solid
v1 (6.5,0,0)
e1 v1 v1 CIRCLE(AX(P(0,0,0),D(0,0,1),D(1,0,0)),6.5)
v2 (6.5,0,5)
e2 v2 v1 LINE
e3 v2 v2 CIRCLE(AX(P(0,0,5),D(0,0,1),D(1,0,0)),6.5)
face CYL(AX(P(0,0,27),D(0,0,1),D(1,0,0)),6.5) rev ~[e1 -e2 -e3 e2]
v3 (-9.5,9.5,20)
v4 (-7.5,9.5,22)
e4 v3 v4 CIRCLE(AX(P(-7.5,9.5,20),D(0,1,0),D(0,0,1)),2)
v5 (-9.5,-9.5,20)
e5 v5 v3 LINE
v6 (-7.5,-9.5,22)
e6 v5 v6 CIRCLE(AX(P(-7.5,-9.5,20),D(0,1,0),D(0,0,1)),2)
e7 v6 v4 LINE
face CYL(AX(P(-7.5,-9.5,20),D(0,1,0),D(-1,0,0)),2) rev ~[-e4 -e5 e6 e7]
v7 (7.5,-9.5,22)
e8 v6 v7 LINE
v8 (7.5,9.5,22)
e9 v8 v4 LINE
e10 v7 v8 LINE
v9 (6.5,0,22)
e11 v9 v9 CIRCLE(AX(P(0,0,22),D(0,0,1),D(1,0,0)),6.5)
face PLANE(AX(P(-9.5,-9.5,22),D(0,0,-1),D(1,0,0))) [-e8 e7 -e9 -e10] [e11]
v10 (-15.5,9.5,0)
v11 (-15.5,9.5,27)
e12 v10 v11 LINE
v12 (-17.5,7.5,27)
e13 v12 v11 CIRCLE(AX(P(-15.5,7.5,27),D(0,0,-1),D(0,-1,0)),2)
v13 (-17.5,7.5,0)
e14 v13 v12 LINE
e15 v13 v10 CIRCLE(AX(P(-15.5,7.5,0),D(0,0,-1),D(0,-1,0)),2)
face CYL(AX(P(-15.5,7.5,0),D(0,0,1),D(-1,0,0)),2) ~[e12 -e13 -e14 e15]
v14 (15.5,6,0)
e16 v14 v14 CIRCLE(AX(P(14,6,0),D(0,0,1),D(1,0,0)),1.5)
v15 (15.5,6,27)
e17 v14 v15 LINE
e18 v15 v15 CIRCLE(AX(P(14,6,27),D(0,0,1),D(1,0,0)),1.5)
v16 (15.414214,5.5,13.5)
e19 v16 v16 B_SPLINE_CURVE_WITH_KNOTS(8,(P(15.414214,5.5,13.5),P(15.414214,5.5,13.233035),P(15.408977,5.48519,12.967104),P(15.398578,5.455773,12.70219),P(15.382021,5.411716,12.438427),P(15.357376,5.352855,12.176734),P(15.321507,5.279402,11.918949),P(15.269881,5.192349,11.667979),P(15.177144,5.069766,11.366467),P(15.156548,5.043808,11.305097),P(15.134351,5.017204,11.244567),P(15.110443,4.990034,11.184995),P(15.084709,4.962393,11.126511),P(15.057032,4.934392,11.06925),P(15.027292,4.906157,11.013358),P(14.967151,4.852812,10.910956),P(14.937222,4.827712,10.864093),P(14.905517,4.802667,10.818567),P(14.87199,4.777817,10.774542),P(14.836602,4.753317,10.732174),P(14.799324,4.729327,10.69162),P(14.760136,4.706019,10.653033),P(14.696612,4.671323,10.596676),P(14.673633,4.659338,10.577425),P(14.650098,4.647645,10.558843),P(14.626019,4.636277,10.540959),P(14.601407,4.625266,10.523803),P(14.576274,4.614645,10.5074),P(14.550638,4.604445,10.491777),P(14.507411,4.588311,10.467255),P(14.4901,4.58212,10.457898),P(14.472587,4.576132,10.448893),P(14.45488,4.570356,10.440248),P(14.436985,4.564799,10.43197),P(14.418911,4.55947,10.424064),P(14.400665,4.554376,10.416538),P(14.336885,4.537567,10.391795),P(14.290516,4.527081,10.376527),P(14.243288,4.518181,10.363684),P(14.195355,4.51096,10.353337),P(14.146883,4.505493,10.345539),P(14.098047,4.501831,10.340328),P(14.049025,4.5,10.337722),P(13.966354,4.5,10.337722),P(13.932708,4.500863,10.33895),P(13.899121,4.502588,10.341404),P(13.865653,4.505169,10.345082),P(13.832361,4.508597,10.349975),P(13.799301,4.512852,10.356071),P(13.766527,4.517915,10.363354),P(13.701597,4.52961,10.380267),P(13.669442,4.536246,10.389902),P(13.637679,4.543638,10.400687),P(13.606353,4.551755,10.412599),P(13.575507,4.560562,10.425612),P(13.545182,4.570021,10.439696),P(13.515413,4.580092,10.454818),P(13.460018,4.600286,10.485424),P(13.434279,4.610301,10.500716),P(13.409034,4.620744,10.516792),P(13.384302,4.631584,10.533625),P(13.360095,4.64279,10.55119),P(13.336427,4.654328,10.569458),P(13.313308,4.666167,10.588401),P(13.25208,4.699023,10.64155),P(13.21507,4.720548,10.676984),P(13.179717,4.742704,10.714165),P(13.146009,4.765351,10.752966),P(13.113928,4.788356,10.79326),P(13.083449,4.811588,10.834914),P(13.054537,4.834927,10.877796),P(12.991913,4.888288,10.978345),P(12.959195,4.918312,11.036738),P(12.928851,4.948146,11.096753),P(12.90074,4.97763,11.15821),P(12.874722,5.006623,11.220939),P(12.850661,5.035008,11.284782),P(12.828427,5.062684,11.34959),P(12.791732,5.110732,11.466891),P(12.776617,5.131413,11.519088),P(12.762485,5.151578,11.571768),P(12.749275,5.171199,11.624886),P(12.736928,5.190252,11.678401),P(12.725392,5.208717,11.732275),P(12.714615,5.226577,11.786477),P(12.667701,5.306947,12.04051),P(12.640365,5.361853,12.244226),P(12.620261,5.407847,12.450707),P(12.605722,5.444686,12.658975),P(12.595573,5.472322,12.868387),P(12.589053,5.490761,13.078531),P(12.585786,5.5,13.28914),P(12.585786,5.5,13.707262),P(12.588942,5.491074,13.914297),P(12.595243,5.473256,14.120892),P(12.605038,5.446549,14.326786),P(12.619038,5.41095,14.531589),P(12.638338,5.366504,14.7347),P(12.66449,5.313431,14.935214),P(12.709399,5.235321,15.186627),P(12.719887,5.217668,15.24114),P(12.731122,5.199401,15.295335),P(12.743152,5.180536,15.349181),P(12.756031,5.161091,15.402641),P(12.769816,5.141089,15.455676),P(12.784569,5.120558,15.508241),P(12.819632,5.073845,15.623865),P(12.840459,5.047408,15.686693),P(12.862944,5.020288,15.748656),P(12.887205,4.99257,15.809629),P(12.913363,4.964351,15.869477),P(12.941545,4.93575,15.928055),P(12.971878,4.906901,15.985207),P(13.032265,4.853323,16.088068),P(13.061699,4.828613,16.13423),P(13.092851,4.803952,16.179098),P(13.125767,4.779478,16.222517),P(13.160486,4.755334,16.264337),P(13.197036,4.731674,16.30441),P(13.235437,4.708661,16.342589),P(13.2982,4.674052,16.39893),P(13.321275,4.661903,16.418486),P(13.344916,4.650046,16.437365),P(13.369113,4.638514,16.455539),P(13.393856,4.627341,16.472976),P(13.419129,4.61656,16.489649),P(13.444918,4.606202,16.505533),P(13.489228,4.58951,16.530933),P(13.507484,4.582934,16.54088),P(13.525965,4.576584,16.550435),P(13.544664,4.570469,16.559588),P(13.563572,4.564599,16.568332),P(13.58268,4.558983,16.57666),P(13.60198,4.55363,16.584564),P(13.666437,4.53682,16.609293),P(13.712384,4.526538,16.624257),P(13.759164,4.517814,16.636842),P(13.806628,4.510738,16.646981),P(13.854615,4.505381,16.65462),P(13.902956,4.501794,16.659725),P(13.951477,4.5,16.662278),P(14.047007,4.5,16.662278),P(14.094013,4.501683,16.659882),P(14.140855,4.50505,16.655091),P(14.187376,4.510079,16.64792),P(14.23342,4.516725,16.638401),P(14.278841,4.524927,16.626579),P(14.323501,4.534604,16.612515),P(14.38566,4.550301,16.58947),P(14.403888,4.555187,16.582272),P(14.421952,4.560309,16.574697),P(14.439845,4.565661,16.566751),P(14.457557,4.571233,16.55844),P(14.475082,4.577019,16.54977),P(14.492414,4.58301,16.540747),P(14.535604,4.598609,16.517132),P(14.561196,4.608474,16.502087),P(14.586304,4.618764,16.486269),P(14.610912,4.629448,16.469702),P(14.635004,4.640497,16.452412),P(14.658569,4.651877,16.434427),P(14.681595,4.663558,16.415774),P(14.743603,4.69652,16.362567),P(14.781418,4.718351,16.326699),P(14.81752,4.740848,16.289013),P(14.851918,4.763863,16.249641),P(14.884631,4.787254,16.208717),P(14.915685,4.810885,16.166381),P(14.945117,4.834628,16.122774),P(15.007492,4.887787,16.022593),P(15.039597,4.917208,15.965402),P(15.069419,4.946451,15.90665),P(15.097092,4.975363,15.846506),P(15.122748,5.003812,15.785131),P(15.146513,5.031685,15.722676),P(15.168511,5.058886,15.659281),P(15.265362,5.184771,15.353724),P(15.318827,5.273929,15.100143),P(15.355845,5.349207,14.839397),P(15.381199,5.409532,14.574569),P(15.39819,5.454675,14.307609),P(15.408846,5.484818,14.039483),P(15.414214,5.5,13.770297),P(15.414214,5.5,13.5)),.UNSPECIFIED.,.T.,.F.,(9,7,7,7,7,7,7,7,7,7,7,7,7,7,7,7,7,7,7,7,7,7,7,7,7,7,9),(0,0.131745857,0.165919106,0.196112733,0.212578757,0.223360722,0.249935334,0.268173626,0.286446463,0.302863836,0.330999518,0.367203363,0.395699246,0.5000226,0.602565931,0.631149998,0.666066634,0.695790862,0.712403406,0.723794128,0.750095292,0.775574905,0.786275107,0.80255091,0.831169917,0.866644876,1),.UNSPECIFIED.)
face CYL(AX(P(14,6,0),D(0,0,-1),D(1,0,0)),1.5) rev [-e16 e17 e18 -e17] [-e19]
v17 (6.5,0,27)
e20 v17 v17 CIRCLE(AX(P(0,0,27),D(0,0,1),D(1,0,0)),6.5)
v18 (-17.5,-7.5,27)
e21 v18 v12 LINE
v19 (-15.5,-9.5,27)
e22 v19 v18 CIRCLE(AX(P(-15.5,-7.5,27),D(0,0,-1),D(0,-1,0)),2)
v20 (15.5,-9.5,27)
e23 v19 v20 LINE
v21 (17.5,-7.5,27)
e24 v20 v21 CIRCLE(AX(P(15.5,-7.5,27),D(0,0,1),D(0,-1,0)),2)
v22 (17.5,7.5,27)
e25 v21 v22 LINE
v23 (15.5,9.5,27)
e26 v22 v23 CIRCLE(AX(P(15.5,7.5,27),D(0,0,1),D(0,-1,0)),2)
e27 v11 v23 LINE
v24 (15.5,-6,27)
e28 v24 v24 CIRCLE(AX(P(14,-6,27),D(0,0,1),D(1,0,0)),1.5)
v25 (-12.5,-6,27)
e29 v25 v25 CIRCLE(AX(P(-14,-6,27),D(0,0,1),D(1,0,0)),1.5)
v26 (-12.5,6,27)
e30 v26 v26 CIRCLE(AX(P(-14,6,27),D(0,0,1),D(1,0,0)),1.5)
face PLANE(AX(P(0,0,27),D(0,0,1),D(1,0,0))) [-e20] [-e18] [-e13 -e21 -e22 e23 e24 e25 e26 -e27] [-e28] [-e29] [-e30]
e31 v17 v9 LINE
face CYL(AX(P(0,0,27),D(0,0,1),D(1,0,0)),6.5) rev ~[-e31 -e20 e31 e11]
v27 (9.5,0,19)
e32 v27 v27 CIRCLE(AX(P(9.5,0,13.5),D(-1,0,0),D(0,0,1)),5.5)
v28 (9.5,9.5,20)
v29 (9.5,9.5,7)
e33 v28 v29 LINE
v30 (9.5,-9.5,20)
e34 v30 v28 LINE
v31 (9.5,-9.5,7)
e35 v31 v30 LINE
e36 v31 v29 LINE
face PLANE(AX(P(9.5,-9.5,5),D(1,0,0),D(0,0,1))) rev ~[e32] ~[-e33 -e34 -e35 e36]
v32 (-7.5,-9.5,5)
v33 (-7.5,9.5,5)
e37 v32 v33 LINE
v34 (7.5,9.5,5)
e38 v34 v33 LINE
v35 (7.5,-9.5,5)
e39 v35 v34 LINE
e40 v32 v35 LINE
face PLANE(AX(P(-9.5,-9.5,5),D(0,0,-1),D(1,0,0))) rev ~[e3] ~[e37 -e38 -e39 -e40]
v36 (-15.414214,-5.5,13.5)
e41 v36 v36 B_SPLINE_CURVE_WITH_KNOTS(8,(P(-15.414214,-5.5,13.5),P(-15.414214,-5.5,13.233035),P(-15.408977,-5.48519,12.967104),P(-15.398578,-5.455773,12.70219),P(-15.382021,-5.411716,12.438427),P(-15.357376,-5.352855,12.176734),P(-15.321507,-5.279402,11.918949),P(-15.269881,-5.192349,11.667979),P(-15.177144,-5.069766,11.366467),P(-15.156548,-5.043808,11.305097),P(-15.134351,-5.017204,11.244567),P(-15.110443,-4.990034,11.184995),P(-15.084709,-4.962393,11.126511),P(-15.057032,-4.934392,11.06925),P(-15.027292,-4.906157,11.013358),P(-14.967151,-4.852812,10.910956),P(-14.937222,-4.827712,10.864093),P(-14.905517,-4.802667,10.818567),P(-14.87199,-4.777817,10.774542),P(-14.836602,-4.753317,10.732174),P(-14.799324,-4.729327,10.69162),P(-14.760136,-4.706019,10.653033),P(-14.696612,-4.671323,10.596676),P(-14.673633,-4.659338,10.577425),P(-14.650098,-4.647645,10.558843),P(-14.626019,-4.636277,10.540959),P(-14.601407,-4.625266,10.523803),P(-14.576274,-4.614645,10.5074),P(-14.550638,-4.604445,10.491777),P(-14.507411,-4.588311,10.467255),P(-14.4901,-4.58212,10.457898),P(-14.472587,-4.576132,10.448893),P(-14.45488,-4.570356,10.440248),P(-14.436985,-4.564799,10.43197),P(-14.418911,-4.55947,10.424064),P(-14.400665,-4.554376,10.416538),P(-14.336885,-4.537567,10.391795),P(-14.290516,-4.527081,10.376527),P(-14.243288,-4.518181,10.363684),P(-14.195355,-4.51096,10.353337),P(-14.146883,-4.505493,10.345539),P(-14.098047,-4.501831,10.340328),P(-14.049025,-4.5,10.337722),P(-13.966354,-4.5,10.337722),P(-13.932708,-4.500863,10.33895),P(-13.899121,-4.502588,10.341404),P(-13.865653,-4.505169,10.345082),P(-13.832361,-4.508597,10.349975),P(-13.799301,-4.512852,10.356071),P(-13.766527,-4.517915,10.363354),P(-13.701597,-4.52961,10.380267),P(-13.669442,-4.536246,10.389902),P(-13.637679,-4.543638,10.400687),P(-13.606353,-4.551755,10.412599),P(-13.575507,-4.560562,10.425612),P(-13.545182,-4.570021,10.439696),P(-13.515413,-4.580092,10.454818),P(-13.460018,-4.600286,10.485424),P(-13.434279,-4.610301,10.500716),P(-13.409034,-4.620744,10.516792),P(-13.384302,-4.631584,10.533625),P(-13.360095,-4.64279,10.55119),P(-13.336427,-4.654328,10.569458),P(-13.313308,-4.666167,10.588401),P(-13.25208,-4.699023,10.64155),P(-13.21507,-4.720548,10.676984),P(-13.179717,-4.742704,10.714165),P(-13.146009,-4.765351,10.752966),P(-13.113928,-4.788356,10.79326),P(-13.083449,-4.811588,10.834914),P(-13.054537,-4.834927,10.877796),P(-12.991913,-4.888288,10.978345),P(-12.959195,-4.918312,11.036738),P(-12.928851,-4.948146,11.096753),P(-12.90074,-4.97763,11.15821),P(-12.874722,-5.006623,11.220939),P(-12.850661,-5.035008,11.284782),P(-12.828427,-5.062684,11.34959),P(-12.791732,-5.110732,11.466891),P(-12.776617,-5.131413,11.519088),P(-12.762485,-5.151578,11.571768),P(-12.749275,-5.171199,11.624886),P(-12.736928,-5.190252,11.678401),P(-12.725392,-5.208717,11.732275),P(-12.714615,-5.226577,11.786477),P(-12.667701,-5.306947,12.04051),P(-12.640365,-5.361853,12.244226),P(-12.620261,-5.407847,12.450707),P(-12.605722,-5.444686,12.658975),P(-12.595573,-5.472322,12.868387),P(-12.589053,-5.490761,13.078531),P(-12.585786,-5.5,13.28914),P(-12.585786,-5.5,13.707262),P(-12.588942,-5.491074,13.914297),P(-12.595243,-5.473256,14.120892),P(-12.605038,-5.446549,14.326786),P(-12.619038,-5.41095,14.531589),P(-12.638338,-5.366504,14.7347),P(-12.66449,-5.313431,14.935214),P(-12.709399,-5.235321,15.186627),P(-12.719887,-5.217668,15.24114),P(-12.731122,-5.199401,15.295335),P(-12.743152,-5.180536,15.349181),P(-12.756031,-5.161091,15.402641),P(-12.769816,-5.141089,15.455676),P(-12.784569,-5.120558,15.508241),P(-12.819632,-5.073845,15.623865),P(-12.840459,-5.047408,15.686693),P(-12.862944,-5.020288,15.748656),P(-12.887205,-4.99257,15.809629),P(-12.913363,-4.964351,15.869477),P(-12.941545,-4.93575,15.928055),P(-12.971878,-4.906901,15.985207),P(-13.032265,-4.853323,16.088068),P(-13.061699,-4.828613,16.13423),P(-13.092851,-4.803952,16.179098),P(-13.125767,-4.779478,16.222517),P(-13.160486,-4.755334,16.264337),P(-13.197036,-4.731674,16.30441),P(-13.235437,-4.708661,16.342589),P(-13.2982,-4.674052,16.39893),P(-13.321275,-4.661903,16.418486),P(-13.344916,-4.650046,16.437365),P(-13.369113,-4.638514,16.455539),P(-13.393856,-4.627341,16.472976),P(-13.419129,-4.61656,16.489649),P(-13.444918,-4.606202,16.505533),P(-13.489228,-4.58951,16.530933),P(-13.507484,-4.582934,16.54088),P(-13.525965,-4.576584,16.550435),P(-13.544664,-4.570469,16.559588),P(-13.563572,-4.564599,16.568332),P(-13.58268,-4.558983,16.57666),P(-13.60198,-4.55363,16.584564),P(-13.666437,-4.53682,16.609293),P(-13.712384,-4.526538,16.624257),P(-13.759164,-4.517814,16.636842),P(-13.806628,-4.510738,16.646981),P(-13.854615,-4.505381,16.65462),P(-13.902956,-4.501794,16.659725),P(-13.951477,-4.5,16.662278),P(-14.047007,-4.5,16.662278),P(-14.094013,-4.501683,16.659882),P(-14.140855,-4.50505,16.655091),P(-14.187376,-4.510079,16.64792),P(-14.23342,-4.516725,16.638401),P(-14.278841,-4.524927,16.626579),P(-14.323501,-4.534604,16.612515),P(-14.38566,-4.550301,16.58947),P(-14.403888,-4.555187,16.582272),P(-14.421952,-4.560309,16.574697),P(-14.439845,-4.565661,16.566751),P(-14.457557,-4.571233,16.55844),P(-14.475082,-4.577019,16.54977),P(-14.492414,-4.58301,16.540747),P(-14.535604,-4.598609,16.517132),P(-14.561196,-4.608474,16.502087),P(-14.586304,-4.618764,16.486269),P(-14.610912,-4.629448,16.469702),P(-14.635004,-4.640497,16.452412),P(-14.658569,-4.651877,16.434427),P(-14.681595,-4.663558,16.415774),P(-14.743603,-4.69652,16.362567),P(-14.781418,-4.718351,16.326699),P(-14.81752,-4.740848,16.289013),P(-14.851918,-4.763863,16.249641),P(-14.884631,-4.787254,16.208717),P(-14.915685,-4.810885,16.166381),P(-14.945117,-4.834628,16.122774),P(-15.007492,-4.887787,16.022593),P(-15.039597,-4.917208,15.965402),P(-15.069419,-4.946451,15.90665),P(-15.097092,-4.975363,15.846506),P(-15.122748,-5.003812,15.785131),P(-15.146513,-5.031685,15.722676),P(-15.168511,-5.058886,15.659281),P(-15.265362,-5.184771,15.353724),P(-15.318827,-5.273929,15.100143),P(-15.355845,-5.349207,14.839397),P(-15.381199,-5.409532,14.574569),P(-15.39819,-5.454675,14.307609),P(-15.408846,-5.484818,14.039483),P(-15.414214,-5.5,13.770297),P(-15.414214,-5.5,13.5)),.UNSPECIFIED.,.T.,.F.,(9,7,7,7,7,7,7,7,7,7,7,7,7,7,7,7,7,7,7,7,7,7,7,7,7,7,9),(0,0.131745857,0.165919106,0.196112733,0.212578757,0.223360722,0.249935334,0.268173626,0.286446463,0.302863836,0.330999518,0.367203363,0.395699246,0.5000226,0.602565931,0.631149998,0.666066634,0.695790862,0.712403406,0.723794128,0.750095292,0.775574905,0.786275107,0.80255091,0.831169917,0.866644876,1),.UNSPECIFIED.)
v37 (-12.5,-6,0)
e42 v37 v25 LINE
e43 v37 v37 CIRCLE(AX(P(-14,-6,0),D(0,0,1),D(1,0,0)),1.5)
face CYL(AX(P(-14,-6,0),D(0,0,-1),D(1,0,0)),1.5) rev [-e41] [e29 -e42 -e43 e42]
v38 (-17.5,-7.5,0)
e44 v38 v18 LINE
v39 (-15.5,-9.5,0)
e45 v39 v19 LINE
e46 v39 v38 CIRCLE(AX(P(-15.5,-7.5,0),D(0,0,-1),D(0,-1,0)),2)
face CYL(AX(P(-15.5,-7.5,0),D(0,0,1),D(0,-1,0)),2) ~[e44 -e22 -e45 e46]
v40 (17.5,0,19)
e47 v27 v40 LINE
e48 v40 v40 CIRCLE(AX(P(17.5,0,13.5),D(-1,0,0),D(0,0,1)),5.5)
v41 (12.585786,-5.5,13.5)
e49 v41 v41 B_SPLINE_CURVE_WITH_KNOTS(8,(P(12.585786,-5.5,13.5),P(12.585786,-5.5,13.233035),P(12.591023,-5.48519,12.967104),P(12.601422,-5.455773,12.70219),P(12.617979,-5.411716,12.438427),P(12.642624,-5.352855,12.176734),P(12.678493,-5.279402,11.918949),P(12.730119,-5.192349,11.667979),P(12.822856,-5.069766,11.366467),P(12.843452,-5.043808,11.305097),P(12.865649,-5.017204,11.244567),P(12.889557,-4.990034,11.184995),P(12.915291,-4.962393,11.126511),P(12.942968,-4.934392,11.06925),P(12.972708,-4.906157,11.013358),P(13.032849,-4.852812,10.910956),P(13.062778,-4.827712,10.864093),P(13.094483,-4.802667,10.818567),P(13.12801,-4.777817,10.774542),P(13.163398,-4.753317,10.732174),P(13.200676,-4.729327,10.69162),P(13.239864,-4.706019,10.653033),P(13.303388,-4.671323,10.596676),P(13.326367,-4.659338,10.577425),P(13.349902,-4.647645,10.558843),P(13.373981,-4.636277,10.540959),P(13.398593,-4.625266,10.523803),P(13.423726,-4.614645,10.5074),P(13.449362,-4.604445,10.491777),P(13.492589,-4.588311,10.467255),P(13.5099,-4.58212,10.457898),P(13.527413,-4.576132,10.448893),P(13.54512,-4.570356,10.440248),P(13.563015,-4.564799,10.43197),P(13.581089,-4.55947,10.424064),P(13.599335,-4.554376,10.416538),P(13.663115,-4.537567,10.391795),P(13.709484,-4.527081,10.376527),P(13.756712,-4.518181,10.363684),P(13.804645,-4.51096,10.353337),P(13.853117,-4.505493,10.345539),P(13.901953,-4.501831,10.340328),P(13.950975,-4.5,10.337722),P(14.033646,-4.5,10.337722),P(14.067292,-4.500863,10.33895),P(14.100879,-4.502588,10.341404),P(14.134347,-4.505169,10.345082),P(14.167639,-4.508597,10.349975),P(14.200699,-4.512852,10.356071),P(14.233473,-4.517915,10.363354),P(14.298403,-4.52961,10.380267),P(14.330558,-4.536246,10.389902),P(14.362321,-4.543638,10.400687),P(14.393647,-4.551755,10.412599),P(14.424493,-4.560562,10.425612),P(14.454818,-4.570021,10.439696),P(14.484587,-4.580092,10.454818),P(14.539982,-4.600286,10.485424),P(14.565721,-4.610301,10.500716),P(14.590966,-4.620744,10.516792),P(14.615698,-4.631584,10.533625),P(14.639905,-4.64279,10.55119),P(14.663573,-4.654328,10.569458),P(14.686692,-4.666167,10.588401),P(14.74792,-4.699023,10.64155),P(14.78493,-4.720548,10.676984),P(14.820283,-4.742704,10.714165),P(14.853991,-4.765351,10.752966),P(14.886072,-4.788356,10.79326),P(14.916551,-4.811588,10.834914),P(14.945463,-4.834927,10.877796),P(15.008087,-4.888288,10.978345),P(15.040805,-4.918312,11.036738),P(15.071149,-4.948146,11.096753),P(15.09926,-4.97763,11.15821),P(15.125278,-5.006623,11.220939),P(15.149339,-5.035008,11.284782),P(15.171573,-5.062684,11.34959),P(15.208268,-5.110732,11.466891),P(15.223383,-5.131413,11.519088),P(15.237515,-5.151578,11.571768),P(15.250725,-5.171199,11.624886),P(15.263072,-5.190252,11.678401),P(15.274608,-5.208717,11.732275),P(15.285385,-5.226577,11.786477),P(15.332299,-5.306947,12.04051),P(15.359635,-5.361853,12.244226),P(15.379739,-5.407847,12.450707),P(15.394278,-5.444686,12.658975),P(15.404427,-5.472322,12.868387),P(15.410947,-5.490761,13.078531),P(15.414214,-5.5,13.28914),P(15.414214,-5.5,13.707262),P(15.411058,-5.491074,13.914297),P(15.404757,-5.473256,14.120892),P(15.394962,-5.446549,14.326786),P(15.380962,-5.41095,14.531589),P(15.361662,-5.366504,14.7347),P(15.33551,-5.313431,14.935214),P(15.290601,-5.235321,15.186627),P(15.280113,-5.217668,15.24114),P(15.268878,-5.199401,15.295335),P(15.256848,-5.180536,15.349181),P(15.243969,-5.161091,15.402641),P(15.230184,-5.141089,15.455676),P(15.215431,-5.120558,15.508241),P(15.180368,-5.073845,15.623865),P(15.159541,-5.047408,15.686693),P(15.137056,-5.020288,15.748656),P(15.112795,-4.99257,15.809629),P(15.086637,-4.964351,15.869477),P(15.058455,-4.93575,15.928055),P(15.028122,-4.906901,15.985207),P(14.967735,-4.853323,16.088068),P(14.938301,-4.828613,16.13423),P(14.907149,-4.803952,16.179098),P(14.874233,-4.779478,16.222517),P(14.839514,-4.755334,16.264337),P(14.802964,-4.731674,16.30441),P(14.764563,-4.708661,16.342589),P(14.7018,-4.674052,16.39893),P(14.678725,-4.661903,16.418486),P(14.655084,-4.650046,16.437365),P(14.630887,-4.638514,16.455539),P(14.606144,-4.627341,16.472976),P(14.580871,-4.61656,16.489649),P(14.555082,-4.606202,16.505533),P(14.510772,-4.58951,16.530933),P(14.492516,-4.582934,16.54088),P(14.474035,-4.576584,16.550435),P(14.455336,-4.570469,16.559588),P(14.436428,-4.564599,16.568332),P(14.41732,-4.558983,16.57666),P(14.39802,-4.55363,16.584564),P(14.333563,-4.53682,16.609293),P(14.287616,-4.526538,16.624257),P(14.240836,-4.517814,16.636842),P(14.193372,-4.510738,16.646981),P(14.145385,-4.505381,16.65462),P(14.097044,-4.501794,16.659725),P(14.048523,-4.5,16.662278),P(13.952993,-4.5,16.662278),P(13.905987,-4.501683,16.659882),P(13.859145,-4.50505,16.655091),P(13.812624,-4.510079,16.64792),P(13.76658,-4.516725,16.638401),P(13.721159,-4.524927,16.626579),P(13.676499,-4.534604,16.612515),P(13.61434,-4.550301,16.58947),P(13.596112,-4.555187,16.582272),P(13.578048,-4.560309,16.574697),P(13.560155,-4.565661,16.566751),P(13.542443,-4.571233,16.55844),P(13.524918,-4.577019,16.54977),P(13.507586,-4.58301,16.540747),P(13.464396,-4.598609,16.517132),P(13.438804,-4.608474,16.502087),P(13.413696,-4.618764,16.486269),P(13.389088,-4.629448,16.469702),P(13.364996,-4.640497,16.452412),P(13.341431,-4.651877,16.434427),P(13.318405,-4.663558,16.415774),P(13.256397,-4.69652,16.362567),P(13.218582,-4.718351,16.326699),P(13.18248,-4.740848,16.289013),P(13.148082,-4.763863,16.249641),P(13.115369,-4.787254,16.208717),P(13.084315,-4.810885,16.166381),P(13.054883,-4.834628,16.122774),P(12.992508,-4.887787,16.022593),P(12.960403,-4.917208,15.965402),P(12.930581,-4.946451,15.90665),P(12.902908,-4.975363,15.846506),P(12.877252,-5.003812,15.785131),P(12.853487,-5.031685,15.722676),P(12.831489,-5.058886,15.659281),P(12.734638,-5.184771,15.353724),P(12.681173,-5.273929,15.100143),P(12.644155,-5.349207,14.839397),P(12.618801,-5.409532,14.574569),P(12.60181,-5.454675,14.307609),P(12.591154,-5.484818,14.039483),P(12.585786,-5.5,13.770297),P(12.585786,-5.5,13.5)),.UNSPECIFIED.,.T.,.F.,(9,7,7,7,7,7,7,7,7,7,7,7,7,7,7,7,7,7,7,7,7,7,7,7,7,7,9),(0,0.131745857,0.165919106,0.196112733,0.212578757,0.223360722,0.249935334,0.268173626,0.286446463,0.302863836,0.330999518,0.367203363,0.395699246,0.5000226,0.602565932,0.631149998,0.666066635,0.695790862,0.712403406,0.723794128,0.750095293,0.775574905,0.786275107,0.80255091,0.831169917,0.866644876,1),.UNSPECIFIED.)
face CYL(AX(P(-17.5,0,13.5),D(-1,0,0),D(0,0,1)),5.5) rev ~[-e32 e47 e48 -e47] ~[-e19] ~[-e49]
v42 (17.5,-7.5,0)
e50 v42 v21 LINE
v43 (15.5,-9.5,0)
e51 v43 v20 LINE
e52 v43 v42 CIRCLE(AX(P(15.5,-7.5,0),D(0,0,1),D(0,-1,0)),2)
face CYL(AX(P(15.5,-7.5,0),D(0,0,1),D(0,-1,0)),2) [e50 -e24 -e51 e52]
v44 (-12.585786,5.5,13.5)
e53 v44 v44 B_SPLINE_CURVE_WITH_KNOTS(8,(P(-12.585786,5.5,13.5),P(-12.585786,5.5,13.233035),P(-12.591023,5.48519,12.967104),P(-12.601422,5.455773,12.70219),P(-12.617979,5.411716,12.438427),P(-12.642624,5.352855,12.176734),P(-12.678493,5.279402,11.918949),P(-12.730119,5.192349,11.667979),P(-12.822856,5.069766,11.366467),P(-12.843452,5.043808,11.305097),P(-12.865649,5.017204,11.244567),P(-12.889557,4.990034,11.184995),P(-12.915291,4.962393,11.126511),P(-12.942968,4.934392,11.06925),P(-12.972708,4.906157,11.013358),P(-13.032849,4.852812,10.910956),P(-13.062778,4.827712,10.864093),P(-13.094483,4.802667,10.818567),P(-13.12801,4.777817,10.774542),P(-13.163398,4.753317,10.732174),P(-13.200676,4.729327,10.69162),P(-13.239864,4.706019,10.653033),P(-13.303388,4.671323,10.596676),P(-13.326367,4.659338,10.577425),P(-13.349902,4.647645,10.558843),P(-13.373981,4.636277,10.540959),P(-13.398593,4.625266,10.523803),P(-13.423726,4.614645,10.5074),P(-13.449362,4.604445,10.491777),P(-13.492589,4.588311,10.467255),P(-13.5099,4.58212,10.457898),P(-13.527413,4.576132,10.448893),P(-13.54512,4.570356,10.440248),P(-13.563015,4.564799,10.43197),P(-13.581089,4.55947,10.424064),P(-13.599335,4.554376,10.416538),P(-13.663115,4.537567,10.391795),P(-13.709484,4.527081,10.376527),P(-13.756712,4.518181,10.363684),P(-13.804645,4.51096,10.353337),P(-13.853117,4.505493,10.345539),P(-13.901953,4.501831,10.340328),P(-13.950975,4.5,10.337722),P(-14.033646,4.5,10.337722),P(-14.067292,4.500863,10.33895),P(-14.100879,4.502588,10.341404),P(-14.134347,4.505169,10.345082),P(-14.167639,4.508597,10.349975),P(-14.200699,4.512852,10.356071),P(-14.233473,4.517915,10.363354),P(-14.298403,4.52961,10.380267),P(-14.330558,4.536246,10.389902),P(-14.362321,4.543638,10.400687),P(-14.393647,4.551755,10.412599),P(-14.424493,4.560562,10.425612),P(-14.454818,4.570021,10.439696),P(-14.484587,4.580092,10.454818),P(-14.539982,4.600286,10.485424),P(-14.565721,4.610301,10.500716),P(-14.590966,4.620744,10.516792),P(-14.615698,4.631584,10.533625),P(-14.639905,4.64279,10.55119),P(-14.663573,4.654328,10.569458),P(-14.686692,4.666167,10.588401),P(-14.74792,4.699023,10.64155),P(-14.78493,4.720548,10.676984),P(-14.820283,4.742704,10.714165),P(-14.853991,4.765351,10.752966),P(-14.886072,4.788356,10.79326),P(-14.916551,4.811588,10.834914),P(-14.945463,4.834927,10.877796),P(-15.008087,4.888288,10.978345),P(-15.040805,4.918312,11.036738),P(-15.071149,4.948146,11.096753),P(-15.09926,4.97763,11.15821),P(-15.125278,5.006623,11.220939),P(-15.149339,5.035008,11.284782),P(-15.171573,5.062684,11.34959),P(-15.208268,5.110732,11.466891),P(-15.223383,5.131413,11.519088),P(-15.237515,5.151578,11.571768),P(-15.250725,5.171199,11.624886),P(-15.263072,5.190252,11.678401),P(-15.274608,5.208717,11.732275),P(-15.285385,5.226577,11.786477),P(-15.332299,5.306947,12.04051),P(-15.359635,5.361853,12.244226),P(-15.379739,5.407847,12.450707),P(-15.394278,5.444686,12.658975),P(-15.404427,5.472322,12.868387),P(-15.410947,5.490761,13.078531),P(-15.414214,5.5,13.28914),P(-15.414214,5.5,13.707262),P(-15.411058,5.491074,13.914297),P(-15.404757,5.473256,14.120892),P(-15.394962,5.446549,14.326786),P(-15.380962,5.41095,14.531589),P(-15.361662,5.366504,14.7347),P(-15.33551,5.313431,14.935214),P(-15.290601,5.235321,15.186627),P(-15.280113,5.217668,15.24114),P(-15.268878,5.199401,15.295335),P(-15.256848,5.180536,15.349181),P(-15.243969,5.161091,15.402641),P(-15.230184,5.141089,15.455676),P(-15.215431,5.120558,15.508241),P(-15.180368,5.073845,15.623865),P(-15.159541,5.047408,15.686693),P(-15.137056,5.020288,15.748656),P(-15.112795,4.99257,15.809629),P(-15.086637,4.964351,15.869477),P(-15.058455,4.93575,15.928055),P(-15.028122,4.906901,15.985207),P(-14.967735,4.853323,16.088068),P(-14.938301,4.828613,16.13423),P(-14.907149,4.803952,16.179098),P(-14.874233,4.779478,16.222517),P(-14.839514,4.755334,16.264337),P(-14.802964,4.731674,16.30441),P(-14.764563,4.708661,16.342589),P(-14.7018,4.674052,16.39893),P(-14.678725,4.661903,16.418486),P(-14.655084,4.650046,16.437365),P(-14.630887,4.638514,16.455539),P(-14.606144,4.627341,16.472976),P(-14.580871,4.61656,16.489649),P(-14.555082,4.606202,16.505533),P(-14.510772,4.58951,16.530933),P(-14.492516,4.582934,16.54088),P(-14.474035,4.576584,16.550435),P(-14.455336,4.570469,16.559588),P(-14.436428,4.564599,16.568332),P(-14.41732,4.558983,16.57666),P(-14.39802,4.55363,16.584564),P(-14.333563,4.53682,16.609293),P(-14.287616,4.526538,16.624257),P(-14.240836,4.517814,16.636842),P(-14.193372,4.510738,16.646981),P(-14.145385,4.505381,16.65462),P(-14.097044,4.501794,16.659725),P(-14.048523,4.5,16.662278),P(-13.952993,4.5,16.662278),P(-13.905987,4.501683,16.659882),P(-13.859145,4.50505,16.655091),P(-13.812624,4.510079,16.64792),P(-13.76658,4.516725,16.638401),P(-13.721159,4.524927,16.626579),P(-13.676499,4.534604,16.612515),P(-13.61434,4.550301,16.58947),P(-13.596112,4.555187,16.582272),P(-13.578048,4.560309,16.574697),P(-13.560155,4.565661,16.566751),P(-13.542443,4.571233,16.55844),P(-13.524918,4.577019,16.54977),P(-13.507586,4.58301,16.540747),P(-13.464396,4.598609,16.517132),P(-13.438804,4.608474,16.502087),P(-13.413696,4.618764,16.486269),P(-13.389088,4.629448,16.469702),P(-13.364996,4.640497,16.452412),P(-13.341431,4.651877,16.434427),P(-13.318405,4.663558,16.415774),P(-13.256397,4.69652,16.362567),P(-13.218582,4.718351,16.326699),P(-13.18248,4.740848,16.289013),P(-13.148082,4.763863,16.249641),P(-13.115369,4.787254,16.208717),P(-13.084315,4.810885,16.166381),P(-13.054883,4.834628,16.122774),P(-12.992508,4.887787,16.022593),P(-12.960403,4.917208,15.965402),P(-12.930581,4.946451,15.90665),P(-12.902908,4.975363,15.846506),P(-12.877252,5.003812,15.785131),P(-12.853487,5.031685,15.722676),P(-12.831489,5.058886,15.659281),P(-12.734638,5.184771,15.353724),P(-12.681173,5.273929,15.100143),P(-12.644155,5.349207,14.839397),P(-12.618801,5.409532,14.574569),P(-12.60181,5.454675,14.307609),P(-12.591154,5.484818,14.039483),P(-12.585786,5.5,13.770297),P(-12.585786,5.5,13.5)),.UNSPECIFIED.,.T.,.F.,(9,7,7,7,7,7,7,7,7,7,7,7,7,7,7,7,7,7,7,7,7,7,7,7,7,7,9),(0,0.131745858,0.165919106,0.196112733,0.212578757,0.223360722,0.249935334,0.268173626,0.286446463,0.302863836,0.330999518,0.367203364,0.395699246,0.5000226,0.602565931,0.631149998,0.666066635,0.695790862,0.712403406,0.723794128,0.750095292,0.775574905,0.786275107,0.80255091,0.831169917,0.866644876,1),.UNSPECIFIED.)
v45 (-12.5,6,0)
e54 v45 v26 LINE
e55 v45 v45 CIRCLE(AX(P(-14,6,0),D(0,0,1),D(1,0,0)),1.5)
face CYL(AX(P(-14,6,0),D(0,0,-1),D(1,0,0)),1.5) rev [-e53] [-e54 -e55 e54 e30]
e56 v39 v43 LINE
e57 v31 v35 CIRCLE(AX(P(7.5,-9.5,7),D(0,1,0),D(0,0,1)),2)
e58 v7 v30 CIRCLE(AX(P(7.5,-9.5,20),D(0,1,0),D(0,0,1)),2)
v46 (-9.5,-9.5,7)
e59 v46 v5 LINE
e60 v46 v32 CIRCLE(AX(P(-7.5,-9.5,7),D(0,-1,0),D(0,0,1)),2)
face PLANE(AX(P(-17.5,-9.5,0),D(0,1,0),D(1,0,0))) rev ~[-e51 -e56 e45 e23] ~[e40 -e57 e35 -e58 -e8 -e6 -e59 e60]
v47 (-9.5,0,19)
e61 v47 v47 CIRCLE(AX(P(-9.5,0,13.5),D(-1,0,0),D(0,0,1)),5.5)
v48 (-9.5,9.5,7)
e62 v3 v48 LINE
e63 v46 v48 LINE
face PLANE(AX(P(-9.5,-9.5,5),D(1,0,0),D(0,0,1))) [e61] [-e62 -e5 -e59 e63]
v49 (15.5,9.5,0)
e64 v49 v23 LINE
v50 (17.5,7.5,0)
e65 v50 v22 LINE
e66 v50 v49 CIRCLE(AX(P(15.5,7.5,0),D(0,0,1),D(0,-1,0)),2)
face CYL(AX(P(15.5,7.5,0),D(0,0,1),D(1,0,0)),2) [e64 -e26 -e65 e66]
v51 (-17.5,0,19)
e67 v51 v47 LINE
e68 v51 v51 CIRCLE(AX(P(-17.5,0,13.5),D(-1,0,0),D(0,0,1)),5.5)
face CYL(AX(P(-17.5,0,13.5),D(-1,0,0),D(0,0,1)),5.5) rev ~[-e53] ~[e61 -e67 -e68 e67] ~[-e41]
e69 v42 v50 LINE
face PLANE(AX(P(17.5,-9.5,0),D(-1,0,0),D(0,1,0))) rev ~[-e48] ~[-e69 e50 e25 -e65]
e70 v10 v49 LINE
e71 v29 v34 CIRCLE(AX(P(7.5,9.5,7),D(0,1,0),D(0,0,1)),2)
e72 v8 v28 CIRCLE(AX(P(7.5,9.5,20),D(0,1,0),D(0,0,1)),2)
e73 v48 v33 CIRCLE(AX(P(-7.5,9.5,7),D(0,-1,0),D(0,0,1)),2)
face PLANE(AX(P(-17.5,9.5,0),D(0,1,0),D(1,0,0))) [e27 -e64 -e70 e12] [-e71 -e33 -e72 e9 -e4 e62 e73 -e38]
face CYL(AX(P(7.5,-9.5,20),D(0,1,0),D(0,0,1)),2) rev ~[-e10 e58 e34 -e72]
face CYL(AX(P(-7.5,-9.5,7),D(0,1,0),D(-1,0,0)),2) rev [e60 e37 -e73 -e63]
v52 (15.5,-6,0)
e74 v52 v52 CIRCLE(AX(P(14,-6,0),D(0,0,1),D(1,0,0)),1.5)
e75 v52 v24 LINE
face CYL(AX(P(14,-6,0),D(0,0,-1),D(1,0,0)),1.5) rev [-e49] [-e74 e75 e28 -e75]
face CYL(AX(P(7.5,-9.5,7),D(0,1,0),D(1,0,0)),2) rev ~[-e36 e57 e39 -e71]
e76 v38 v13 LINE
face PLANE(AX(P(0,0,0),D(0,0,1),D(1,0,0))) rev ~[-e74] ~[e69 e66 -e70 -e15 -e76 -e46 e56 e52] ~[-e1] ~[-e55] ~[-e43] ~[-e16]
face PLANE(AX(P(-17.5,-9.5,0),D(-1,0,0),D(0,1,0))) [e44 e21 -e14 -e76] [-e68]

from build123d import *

# Parameters (mm, degrees)
SKETCH_1_W          = 35
SKETCH_1_H          = 19
SKETCH_1_R          = 1.5
EXTRUDE_1_DEPTH     = 27
SKETCH_2_W          = 19
SKETCH_2_H          = 17
CUT_EXTRUDE_1_DEPTH = 38.366428783
SKETCH_3_R          = 5.5
CUT_EXTRUDE_2_DEPTH = 46.213382975
SKETCH_4_R          = 6.5
CUT_EXTRUDE_3_DEPTH = 34.548472527
FILLET_1_R          = 2
FILLET_2_R          = 2


with BuildPart() as part:
    # 草图1 → 凸台-拉伸1 (new body)
    with BuildSketch(Plane.XY):
        Rectangle(SKETCH_1_W, SKETCH_1_H)
        with Locations((-14, 6)):
            Circle(SKETCH_1_R, mode=Mode.SUBTRACT)
        with Locations((14, 6)):
            Circle(SKETCH_1_R, mode=Mode.SUBTRACT)
        with Locations((14, -6)):
            Circle(SKETCH_1_R, mode=Mode.SUBTRACT)
        with Locations((-14, -6)):
            Circle(SKETCH_1_R, mode=Mode.SUBTRACT)
    extrude(amount=EXTRUDE_1_DEPTH)

    # 草图2 → 切除-拉伸1 (cut, through all)
    with BuildSketch(Plane.XZ.offset(9.5)):
        with Locations((0, 13.5)):
            Rectangle(SKETCH_2_W, SKETCH_2_H)
    extrude(amount=-CUT_EXTRUDE_1_DEPTH, mode=Mode.SUBTRACT)

    # 草图3 → 切除-拉伸2 (cut, through all)
    with BuildSketch(Plane.ZY.offset(17.5)):
        with Locations((13.5, 0)):
            Circle(SKETCH_3_R)
    extrude(amount=-CUT_EXTRUDE_2_DEPTH, mode=Mode.SUBTRACT)

    # 草图4 → 切除-拉伸3 (cut, through all)
    with BuildSketch(Plane.XY.offset(27)):
        Circle(SKETCH_4_R)
    extrude(amount=-CUT_EXTRUDE_3_DEPTH, mode=Mode.SUBTRACT)

    # 圆角1
    fillet_1_edges = [part.edges().sort_by_distance(p)[0] for p in [
        (9.5, 0, 22),
        (9.5, 0, 5),
        (-9.5, 0, 5),
        (-9.5, 0, 22),
    ]]
    fillet(fillet_1_edges, radius=FILLET_1_R)

    # 圆角2
    fillet_2_edges = [part.edges().sort_by_distance(p)[0] for p in [
        (17.5, -9.5, 13.5),
        (-17.5, -9.5, 13.5),
        (-17.5, 9.5, 13.5),
        (17.5, 9.5, 13.5),
    ]]
    fillet(fillet_2_edges, radius=FILLET_2_R)


solid = part.part
